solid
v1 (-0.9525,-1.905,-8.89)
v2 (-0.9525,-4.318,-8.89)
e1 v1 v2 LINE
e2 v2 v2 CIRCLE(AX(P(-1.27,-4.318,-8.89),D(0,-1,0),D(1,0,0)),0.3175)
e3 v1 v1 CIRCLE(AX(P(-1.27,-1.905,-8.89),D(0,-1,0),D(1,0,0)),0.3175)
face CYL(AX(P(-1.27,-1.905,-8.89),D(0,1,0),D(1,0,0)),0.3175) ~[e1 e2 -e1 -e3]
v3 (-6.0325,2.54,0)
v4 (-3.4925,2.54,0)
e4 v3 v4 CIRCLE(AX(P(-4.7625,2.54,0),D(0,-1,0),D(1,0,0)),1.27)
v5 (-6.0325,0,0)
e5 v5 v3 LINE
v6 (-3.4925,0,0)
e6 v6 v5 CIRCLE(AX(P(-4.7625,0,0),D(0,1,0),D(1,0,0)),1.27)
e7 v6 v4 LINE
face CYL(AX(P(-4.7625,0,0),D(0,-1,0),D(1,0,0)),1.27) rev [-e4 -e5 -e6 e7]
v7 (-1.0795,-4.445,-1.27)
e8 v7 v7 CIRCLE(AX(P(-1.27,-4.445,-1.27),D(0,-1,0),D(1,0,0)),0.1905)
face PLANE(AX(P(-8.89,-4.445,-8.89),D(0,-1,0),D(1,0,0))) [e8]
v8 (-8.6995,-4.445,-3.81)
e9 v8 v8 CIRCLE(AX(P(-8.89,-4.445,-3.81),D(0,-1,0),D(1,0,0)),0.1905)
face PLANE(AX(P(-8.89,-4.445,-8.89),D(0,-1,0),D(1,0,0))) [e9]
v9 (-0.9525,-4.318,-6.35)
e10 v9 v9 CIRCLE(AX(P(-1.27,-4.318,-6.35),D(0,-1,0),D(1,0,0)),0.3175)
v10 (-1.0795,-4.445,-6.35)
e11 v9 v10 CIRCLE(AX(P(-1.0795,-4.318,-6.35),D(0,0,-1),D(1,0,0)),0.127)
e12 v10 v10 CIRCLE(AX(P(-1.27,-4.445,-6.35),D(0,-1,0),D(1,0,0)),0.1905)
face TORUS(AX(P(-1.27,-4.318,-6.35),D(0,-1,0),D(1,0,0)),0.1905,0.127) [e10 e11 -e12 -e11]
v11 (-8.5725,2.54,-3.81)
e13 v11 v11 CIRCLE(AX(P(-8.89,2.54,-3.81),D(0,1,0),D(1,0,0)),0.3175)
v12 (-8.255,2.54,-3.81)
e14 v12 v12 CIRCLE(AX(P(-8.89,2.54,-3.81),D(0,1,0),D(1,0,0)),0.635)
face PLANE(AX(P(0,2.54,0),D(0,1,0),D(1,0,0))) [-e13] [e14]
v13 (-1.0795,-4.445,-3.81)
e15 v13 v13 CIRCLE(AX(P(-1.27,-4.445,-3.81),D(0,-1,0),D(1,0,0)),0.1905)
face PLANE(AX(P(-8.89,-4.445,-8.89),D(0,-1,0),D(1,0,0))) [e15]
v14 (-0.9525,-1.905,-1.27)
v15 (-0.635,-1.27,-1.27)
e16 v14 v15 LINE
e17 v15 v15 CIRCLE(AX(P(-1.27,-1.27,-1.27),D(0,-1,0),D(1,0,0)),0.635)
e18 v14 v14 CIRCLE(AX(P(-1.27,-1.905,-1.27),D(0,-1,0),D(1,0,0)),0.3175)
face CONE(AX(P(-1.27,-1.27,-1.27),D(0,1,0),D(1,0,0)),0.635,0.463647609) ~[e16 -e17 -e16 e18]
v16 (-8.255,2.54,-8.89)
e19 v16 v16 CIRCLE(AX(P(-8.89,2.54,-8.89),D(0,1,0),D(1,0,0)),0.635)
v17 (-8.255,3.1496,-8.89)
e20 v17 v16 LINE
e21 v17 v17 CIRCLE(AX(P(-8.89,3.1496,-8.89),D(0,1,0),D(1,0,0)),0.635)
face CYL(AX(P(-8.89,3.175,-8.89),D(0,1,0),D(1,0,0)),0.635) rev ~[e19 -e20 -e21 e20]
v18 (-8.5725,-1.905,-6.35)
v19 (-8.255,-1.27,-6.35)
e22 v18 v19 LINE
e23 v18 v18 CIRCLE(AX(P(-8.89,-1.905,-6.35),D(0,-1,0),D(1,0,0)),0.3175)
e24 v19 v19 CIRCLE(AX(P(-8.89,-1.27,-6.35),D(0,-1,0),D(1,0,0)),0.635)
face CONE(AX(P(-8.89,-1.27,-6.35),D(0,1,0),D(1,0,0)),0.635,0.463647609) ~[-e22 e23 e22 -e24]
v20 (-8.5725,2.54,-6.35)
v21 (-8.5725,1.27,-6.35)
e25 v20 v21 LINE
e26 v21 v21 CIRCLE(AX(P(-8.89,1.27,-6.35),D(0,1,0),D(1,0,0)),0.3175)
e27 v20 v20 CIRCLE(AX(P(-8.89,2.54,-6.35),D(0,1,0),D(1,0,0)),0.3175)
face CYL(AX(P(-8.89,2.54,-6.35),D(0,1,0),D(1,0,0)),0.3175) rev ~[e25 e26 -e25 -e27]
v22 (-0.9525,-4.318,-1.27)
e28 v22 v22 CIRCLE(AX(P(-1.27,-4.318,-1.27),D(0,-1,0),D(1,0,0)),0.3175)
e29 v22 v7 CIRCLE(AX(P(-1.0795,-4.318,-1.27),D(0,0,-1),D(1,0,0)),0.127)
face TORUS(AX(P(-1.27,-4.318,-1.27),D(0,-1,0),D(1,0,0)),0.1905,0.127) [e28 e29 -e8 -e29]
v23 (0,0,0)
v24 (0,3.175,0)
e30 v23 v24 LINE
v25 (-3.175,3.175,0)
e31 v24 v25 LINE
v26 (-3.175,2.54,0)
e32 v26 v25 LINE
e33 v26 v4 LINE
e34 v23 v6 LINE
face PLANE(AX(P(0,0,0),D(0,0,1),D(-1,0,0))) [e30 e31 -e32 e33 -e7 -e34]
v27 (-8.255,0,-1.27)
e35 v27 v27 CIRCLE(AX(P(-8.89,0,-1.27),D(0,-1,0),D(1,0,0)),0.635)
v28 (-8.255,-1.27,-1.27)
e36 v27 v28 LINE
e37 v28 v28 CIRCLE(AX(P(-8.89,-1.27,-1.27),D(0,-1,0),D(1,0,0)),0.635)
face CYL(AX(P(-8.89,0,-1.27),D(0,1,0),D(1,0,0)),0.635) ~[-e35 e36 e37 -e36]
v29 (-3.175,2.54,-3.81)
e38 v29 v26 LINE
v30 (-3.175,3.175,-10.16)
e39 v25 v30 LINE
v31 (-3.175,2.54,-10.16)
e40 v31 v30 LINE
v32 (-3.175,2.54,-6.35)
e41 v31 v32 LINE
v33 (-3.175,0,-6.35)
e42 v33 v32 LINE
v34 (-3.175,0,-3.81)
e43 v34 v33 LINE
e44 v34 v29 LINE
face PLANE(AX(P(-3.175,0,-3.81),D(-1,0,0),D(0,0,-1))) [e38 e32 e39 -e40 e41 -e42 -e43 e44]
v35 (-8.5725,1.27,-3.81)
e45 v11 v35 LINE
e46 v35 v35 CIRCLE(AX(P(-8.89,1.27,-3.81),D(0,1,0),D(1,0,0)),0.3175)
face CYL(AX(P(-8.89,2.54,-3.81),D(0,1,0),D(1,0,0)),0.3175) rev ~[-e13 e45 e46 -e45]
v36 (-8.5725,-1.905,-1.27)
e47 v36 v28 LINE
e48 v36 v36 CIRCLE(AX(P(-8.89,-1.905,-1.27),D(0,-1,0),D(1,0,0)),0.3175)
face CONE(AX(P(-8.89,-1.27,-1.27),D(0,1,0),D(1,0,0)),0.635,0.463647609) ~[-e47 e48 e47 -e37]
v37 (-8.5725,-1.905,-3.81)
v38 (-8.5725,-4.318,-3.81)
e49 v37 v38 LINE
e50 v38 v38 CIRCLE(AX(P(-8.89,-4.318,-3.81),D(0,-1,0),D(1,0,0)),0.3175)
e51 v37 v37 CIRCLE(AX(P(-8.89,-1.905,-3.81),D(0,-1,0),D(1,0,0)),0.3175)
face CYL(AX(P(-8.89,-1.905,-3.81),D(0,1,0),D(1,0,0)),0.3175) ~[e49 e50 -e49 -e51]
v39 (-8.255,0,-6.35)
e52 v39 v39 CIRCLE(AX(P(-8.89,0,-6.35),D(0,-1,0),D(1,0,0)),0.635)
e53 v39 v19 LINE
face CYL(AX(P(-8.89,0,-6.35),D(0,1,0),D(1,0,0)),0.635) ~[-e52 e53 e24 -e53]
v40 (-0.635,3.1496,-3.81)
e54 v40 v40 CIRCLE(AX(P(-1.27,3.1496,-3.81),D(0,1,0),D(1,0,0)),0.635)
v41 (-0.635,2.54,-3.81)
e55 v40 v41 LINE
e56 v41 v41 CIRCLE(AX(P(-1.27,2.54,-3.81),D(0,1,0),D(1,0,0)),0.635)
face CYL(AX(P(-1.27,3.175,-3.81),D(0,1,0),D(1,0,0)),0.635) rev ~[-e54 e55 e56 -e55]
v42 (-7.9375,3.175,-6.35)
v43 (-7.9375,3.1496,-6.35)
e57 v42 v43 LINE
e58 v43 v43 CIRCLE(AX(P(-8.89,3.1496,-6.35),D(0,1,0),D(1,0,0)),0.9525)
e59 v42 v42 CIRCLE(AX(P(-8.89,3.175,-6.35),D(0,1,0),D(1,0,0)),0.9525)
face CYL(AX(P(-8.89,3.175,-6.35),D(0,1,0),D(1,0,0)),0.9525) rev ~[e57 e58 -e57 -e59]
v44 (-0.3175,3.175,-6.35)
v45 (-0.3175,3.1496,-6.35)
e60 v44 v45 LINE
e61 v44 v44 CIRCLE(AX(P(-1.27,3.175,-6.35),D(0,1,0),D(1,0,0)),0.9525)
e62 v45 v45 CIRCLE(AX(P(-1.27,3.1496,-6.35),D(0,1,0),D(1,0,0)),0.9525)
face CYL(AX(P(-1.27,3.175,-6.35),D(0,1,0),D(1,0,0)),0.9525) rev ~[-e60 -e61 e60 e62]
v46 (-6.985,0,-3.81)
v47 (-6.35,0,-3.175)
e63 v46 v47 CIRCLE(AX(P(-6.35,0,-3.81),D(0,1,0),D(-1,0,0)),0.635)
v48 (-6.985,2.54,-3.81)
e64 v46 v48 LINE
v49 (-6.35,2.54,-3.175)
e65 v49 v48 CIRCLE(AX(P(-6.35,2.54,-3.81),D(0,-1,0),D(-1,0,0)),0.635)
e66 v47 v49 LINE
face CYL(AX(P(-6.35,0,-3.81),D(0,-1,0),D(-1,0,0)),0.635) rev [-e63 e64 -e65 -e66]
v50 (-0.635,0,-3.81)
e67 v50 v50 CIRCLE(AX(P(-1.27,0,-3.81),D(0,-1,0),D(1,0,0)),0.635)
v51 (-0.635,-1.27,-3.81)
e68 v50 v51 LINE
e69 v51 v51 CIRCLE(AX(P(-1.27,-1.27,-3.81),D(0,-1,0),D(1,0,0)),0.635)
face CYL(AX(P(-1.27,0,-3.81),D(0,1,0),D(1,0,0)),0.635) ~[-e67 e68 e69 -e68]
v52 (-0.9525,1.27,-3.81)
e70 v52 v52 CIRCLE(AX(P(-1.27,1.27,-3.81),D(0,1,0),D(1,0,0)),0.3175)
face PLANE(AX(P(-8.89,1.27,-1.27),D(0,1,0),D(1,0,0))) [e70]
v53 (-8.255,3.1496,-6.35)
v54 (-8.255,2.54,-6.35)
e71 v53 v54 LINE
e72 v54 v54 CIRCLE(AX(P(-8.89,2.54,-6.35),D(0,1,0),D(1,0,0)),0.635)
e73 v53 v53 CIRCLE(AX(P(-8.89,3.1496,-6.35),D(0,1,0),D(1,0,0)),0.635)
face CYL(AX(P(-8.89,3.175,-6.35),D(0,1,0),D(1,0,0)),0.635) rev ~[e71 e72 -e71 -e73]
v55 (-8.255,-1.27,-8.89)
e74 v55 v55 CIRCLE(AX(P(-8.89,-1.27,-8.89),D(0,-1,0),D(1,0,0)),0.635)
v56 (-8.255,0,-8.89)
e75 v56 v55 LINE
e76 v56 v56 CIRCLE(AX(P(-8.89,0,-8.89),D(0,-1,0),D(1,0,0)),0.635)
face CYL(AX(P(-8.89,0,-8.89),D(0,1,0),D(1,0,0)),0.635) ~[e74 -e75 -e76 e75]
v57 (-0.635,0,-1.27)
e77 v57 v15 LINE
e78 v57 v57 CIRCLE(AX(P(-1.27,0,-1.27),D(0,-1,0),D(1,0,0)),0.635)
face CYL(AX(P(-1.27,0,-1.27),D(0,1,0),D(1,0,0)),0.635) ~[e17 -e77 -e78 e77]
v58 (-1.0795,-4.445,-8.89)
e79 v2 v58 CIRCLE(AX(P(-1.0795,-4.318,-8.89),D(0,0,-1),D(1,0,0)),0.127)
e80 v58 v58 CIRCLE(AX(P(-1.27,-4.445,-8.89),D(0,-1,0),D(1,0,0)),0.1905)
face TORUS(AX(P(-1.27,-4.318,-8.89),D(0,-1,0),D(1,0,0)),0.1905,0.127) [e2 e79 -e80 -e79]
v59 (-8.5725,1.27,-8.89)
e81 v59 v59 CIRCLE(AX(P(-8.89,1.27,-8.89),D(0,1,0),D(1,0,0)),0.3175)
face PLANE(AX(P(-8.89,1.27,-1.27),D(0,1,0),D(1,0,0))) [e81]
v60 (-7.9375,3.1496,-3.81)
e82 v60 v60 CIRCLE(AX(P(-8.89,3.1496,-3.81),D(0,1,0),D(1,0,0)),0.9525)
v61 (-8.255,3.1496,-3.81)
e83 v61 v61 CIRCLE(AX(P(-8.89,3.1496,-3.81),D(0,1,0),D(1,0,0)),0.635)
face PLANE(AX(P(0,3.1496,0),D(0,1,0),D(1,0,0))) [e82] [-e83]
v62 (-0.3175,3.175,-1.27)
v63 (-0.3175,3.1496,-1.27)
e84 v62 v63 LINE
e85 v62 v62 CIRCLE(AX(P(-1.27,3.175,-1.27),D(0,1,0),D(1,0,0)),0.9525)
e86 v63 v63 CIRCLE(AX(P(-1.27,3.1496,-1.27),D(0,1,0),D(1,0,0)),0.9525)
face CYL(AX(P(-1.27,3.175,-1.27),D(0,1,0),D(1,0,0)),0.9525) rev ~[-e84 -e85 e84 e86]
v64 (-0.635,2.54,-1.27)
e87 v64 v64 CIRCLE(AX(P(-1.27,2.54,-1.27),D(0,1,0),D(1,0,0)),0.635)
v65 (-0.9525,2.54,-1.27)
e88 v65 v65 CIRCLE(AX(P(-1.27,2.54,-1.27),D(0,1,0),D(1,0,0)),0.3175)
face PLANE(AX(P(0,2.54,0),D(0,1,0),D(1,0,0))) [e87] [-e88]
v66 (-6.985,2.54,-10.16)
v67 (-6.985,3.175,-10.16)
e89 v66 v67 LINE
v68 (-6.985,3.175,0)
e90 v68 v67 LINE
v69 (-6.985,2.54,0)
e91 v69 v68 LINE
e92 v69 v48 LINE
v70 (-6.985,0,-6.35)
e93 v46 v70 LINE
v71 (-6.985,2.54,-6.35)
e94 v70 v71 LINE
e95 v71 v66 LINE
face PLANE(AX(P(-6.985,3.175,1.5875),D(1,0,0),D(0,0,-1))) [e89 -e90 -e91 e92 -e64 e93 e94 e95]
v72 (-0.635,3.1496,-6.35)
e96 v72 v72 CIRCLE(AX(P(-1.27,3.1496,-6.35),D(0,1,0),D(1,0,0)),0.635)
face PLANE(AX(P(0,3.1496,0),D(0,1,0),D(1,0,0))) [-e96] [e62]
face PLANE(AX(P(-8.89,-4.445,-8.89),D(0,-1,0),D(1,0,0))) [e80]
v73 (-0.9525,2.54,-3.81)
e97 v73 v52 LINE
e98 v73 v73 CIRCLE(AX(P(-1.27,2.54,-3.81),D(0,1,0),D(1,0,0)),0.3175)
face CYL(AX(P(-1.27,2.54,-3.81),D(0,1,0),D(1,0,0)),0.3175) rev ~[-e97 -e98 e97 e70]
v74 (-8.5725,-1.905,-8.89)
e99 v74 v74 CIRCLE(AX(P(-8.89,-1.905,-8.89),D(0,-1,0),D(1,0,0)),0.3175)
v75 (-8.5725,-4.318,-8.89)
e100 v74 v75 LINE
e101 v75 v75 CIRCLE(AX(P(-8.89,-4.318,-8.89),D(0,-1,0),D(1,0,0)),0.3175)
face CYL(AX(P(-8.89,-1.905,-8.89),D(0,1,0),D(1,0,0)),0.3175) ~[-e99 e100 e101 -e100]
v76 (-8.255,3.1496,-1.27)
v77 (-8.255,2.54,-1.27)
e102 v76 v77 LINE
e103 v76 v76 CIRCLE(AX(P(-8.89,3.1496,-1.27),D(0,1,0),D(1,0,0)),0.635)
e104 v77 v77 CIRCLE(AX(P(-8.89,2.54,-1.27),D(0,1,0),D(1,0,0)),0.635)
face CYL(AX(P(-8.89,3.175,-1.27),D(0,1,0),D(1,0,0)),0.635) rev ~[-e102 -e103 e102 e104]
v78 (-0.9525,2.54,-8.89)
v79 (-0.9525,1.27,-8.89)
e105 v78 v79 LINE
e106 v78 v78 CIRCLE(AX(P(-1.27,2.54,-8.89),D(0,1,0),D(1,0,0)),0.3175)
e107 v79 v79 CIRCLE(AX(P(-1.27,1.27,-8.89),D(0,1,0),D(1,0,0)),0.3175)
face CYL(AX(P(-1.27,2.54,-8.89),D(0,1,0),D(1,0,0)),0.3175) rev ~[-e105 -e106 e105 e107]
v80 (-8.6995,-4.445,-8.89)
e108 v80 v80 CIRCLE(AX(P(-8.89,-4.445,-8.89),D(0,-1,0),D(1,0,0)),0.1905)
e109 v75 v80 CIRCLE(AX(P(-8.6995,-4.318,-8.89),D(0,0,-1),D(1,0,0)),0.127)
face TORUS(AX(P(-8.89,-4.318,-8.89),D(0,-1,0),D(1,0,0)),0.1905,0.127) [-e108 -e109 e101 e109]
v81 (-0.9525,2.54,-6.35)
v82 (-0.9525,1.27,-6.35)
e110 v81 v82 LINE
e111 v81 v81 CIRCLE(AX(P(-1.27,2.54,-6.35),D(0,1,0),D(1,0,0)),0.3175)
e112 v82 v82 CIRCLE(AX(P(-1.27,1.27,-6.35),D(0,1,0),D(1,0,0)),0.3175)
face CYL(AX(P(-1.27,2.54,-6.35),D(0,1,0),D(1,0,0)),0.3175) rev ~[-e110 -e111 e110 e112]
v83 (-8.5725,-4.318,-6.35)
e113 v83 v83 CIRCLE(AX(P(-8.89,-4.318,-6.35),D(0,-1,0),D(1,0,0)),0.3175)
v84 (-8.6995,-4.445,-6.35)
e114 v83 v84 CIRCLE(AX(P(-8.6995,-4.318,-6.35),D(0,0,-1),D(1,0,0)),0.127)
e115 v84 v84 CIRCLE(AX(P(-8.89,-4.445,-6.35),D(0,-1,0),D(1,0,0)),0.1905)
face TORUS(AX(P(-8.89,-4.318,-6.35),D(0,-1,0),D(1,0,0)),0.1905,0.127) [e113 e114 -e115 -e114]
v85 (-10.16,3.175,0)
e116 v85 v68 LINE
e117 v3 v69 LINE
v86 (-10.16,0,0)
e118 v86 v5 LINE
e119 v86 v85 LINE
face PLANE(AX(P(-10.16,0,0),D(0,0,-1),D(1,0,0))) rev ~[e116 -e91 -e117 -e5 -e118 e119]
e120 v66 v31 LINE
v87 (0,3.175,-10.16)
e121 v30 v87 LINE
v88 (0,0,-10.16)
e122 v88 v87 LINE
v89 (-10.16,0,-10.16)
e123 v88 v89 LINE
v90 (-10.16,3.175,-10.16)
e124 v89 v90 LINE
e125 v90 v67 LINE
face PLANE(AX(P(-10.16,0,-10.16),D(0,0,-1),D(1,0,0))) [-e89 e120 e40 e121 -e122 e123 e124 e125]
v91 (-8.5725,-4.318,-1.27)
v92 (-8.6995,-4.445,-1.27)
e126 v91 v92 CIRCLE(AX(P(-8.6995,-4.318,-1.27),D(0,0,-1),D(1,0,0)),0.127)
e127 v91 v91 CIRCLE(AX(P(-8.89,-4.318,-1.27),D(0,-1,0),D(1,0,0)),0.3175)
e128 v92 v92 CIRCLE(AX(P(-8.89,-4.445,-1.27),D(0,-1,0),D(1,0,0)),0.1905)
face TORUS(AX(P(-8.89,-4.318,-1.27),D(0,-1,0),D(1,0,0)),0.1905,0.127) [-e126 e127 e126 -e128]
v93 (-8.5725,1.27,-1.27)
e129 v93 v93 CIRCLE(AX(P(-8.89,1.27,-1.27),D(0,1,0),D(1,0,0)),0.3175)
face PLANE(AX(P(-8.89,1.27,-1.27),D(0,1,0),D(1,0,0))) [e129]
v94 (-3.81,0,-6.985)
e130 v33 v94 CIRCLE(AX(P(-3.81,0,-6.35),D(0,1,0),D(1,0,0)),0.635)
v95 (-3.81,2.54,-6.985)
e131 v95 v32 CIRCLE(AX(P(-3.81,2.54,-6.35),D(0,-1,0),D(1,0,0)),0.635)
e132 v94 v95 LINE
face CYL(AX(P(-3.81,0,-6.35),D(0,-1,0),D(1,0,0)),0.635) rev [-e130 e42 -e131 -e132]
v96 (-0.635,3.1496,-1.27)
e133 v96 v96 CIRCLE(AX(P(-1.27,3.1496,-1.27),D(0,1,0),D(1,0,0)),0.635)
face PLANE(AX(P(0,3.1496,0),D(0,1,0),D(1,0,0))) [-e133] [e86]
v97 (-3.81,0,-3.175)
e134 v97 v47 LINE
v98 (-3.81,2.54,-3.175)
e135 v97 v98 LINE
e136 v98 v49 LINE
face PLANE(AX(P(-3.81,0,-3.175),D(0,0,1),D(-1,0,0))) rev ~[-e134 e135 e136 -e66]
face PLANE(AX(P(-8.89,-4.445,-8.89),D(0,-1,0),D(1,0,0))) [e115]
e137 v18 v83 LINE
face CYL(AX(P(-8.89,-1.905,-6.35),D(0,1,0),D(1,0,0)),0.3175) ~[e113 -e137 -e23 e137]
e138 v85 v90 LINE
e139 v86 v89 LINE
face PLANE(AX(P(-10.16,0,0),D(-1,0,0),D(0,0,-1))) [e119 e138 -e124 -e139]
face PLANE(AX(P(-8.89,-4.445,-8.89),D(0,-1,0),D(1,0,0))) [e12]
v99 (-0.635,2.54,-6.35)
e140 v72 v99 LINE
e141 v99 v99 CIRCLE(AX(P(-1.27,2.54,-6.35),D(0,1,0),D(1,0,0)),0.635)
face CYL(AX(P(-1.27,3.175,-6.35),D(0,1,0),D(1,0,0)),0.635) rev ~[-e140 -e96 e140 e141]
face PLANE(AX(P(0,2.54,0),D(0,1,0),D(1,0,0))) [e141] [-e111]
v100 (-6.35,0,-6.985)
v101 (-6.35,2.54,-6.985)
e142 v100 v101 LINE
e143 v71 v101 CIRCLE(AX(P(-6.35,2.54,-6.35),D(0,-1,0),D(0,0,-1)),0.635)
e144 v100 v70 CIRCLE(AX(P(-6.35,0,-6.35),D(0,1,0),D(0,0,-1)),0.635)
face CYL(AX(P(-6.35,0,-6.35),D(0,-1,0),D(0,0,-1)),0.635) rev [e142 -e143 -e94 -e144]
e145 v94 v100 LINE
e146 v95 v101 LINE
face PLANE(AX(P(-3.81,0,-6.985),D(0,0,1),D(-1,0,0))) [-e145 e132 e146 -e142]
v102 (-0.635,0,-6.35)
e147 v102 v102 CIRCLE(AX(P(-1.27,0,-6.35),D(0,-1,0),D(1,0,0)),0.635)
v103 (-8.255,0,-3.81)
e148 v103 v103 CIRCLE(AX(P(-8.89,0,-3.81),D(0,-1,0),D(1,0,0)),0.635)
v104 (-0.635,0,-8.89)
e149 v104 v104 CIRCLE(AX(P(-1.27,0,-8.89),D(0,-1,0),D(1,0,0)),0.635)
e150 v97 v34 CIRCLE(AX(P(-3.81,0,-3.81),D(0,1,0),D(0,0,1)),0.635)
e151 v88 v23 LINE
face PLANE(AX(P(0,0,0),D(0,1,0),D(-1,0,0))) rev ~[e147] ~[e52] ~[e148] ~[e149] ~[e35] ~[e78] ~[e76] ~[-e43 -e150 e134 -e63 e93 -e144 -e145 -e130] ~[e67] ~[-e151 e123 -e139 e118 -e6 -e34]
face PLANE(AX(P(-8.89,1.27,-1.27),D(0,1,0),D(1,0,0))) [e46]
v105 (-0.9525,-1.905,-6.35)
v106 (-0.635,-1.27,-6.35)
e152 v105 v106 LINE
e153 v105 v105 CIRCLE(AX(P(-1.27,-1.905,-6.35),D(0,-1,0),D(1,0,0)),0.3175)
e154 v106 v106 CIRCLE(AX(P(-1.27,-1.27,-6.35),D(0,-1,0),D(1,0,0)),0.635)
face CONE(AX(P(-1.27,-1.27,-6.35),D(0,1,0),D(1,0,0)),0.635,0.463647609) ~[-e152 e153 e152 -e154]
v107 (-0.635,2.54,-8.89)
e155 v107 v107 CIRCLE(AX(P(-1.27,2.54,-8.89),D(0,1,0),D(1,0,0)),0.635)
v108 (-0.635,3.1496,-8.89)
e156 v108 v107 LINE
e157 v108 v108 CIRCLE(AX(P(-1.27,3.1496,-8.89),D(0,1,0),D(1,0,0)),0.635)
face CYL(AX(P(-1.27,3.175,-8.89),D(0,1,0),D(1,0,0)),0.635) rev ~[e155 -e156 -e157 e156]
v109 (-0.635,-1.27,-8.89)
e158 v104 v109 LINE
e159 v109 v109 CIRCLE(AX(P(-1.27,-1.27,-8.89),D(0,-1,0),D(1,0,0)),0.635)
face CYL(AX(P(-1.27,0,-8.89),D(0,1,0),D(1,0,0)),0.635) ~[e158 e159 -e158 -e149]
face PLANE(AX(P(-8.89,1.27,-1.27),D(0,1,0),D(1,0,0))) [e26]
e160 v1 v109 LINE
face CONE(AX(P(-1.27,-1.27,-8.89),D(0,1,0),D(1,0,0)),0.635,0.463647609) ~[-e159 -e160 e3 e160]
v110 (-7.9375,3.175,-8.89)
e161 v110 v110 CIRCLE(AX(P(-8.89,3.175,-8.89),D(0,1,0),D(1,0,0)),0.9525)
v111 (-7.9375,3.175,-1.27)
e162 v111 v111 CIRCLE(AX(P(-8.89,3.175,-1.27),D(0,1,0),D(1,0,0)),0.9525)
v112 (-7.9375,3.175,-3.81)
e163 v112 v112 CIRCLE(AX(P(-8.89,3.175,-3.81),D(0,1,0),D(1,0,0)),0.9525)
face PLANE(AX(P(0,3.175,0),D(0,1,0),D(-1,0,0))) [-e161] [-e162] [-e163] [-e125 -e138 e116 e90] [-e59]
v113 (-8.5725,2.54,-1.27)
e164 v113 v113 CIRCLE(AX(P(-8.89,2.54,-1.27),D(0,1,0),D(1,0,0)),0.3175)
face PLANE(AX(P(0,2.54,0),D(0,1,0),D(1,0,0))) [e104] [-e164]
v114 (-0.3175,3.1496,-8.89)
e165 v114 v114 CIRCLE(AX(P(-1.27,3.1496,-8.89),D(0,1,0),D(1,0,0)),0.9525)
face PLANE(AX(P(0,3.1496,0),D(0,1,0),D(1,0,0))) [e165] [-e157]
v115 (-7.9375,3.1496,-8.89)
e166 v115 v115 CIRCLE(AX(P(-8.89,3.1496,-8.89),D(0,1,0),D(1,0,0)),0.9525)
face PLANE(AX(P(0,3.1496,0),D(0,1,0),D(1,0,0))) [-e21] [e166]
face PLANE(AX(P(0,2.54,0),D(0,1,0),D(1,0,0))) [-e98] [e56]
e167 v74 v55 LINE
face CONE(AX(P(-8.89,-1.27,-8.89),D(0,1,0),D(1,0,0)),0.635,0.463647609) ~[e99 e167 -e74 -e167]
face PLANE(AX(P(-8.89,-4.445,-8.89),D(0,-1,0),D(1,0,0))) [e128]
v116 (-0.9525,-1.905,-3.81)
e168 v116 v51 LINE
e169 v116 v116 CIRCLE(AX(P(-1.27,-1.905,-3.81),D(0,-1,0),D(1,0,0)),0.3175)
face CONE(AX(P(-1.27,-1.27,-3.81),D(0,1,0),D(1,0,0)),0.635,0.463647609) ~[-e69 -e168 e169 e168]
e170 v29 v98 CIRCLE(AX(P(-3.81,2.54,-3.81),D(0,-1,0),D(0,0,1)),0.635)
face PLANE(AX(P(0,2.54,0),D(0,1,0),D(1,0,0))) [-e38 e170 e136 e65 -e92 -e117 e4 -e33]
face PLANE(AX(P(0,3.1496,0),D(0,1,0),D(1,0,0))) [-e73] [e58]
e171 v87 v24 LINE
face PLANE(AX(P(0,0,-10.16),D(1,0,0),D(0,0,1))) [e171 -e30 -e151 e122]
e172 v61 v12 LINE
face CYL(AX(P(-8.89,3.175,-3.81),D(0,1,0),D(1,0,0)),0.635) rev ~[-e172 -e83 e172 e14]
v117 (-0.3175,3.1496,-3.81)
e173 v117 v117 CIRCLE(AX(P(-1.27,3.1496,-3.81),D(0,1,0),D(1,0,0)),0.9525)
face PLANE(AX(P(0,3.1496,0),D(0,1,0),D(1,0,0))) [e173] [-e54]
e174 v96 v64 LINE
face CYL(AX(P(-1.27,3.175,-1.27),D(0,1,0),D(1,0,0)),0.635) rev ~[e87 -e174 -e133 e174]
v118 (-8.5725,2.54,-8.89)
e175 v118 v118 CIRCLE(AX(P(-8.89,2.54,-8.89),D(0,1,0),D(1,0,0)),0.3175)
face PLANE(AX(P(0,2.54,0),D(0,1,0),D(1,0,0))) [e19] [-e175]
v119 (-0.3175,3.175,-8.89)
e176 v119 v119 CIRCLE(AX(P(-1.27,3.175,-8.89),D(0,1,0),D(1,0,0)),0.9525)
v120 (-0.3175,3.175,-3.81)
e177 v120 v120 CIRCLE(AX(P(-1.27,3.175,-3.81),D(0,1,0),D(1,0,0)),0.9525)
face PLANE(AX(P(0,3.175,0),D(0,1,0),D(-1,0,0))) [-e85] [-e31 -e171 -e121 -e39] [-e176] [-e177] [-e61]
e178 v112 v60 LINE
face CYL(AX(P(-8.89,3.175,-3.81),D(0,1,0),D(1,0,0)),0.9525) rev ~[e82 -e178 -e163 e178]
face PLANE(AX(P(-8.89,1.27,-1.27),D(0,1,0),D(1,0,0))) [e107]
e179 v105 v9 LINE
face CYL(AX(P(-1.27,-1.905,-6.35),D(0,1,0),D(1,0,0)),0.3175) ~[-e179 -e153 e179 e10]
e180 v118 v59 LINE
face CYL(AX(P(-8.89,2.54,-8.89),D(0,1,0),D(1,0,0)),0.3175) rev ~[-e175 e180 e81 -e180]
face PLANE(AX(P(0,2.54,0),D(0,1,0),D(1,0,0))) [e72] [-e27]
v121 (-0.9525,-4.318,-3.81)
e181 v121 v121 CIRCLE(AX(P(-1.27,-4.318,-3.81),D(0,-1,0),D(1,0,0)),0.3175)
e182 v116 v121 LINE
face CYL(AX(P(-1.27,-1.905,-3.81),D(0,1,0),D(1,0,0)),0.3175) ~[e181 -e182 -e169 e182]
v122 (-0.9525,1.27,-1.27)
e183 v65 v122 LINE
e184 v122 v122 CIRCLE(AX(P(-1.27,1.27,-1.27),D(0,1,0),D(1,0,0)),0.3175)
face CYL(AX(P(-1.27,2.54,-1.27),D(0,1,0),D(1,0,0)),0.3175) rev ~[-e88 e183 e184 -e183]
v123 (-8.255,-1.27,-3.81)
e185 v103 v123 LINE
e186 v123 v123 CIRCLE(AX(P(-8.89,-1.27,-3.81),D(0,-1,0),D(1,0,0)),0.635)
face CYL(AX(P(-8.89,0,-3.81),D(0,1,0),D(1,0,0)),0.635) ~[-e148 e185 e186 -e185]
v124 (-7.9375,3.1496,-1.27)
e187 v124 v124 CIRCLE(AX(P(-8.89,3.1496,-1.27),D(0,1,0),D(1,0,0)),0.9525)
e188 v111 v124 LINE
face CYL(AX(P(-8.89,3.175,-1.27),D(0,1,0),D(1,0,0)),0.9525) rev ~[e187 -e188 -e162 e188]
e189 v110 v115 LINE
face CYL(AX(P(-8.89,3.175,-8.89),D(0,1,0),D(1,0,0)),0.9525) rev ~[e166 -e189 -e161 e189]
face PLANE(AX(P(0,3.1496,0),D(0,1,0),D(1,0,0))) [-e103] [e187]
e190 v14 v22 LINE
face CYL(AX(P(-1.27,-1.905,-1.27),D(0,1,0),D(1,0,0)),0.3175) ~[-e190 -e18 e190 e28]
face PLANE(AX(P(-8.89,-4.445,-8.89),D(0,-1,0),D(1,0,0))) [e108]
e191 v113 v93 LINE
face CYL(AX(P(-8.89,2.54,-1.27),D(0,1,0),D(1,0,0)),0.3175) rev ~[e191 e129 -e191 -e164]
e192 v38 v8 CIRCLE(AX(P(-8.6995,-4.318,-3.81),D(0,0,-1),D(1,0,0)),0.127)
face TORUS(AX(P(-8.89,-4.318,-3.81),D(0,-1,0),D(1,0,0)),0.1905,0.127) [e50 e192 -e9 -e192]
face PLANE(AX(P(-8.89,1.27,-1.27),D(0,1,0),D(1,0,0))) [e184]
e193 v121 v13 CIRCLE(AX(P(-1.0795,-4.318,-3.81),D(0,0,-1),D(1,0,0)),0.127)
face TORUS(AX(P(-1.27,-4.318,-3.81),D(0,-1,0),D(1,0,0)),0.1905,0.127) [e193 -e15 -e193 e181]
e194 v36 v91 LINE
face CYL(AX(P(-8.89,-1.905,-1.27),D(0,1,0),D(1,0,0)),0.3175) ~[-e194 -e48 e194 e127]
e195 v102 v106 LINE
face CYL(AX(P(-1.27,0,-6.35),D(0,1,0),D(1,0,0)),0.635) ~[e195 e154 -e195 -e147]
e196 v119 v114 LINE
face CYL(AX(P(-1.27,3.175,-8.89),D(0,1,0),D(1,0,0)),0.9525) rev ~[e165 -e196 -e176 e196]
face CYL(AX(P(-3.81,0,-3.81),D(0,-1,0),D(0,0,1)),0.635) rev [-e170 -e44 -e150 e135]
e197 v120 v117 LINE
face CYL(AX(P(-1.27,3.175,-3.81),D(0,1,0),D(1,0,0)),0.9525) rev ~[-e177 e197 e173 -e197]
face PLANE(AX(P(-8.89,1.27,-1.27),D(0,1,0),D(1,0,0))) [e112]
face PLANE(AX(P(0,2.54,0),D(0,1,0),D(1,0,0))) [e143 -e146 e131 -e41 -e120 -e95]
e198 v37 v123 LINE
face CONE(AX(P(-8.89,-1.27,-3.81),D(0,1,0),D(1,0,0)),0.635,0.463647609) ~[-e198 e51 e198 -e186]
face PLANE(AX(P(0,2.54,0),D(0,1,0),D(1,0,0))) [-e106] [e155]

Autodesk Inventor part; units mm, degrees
ref_plane "YZ Plane" through (0, 0, 0) normal (1, 0, 0) x (0, 1, 0)
ref_plane "XZ Plane" through (0, 0, 0) normal (0, 1, 0) x (-1, 0, 0)
ref_plane "XY Plane" through (0, 0, 0) normal (0, 0, 1) x (1, 0, 0)
sketch "Náčrt1" plane through (0, 0, 0) normal (0, 1, 0) x (-1, 0, 0)
  line L0 (10.16, 0) -> (10.16, -10.16)
  line L1 (10.16, -10.16) -> (0, -10.16)
  line L2 (0, -10.16) -> (0, 0)
  line L3 (0, 0) -> (3.175, 0)
  line L4 (3.175, -10.16) -> (0, -10.16)
  line L5 (0, -10.16) -> (0, 0)
  line L6 (10.16, 0) -> (6.985, 0)
  line L7 (6.985, -10.16) -> (10.16, -10.16)
  line L8 (10.16, -10.16) -> (10.16, 0)
  line L9 (3.81, -3.175) -> (6.35, -3.175)
  line L10 (6.985, -10.16) -> (3.175, -10.16)
  line L11 (3.81, -6.985) -> (6.35, -6.985)
  line L12 (6.985, -3.81) -> (6.985, -6.35)
  line L13 (3.175, -3.81) -> (3.175, -6.35)
  arc A0 (3.4925, 0) -> (6.0325, 0) centre (4.7625, 0) ccw
  line L14 (0, 0) -> (3.4925, 0)
  line L15 (6.0325, 0) -> (10.16, 0)
  line L16 (6.985, 0) -> (6.0325, 0)
  line L17 (3.4925, 0) -> (3.175, 0)
  arc A1 (6.985, -3.81) -> (6.35, -3.175) centre (6.35, -3.81) ccw
  arc A2 (3.81, -3.175) -> (3.175, -3.81) centre (3.81, -3.81) ccw
  arc A3 (3.175, -6.35) -> (3.81, -6.985) centre (3.81, -6.35) ccw
  arc A4 (6.35, -6.985) -> (6.985, -6.35) centre (6.35, -6.35) ccw
  dimension "d0" = 10.16
  dimension "d1" = 10.16
  dimension "d6" = 2.54
  dimension "d7" = 0.635
  dimension "d111" = 3.175
  dimension "d112" = 3.175
extrude "Vysunutí15" add sketch "Náčrt1" along normal blind 3.175
sketch "Náčrt14" plane through (0, 3.175, 0) normal (0, 1, 0) x (1, 0, 0)
  line L0 (-6.985, 11.6552) -> (-3.175, 11.6552)
  line L1 (-3.175, 11.6552) -> (-3.175, -1.5875)
  line L2 (-3.175, -1.5875) -> (-6.985, -1.5875)
  line L3 (-6.985, -1.5875) -> (-6.985, 11.6552)
  point P0 (0, 0)
extrude "Vysunutí16" cut sketch "Náčrt14" against normal blind 0.635
sketch "Náčrt15" plane through (0, 3.175, 0) normal (0, 1, 0) x (1, 0, 0)
  circle A0 centre (-8.89, 8.89) radius 0.635
  circle A1 centre (-8.89, 6.35) radius 0.635
  circle A2 centre (-8.89, 3.81) radius 0.635
  circle A3 centre (-8.89, 1.27) radius 0.635
  circle A4 centre (-1.27, 8.89) radius 0.635
  circle A5 centre (-1.27, 6.35) radius 0.635
  circle A6 centre (-1.27, 3.81) radius 0.635
  circle A7 centre (-1.27, 1.27) radius 0.635
  point P0 (0, 0)
  point P1 (0, 0)
  point P2 (-1.27, 8.89)
  point P3 (-1.27, 6.35)
  point P4 (-1.27, 3.81)
  point P5 (-1.27, 1.27)
  point P6 (-8.89, 1.27)
  point P7 (-8.89, 3.81)
  point P8 (-8.89, 6.35)
  point P9 (-8.89, 8.89)
  point P10 (-1.27, 1.27)
extrude "Vysunutí17" cut sketch "Náčrt15" against normal blind 0.635
sketch "Náčrt16" plane through (-8.89, 2.54, -1.27) normal (0, 1, 0) x (1, 0, 0)
  circle A0 centre (0, 7.62) radius 0.3175
  circle A1 centre (0, 7.62) radius 0.3175
  circle A2 centre (7.62, 5.08) radius 0.3175
  circle A3 centre (7.62, 5.08) radius 0.3175
  circle A4 centre (7.62, 2.54) radius 0.3175
  circle A5 centre (7.62, 0) radius 0.3175
  circle A6 centre (7.62, 0) radius 0.3175
  circle A7 centre (0, 5.08) radius 0.3175
  circle A8 centre (0, 2.54) radius 0.3175
  circle A9 centre (0, 0) radius 0.3175
  circle A10 centre (0, 0) radius 0.3175
  circle A11 centre (7.62, 7.62) radius 0.3175
  point P0 (8.89, -1.27)
  point P1 (8.89, -1.27)
extrude "Vysunutí18" cut sketch "Náčrt16" against normal blind 1.27
sketch "Náčrt17" plane through (0, 3.175, 0) normal (0, 1, 0) x (1, 0, 0)
  circle A0 centre (-8.89, 1.27) radius 0.9525
  circle A1 centre (-8.89, 8.89) radius 0.9525
  circle A2 centre (-8.89, 3.81) radius 0.9525
  circle A3 centre (-8.89, 6.35) radius 0.9525
  circle A4 centre (-1.27, 8.89) radius 0.9525
  circle A5 centre (-1.27, 3.81) radius 0.9525
  circle A6 centre (-1.27, 1.27) radius 0.9525
  circle A7 centre (-1.27, 6.35) radius 0.9525
  point P0 (0, 0)
extrude "Vysunutí19" cut sketch "Náčrt17" against normal blind 0.0254
sketch "Náčrt18" plane through (0, 0, 0) normal (0, -1, 0) x (1, 0, 0)
  circle A0 centre (-1.27, -8.89) radius 0.635 projected
  circle A1 centre (-1.27, -6.35) radius 0.635 projected
  circle A2 centre (-1.27, -3.81) radius 0.635 projected
  circle A3 centre (-1.27, -1.27) radius 0.635 projected
  circle A4 centre (-8.89, -8.89) radius 0.635 projected
  circle A5 centre (-8.89, -6.35) radius 0.635 projected
  circle A6 centre (-8.89, -3.81) radius 0.635 projected
  circle A7 centre (-8.89, -1.27) radius 0.635 projected
  point P0 (0, 0)
extrude "Vysunutí20" add sketch "Náčrt18" along normal blind 1.905
chamfer "Zkosení45" distance 0.3175 distance2 0.635 1 edges at (-9.525, -1.905, -8.89) measured on face at (-8.6783, -1.905, -9.0867)
chamfer "Zkosení46" distance 0.3175 distance2 0.635 1 edges at (-9.525, -1.905, -6.35) measured on face at (-8.6964, -1.905, -6.499)
chamfer "Zkosení47" distance 0.3175 distance2 0.635 1 edges at (-9.525, -1.905, -3.81) measured on face at (-8.6964, -1.905, -3.959)
chamfer "Zkosení48" distance 0.3175 distance2 0.635 1 edges at (-9.525, -1.905, -1.27) measured on face at (-8.6964, -1.905, -1.419)
chamfer "Zkosení49" distance 0.3175 distance2 0.635 1 edges at (-1.905, -1.905, -8.89) measured on face at (-1.4636, -1.905, -8.9377)
chamfer "Zkosení50" distance 0.3175 distance2 0.635 1 edges at (-1.905, -1.905, -6.35) measured on face at (-1.0645, -1.905, -6.4007)
chamfer "Zkosení51" distance 0.3175 distance2 0.635 1 edges at (-1.905, -1.905, -3.81) measured on face at (-1.0282, -1.905, -4.0079)
chamfer "Zkosení52" distance 0.3175 distance2 0.635 1 edges at (-1.905, -1.905, -1.27) measured on face at (-1.0935, -1.905, -1.2787)
sketch "Náčrt19" plane through (-8.89, -1.905, -8.89) normal (0, -1, 0) x (1, 0, 0)
  circle A0 centre (0, 7.62) radius 0.3175 projected
  circle A1 centre (0, 5.08) radius 0.3175 projected
  circle A2 centre (0, 2.54) radius 0.3175 projected
  circle A3 centre (0, 0) radius 0.3175 projected
  circle A4 centre (7.62, 7.62) radius 0.3175 projected
  circle A5 centre (7.62, 5.08) radius 0.3175 projected
  circle A6 centre (7.62, 2.54) radius 0.3175 projected
  circle A7 centre (7.62, 0) radius 0.3175 projected
  point P0 (8.89, 8.89)
extrude "Vysunutí21" add sketch "Náčrt19" along normal blind 2.54
fillet "Zaoblení3" radius 0.127 8 edges at (-1.5875, -4.445, -1.27) (-1.5875, -4.445, -3.81) (-1.5875, -4.445, -6.35) (-1.5875, -4.445, -8.89) (-9.2075, -4.445, -1.27) (-9.2075, -4.445, -3.81) (-9.2075, -4.445, -6.35) (-9.2075, -4.445, -8.89)
properties part number "DIL8-Socket"
